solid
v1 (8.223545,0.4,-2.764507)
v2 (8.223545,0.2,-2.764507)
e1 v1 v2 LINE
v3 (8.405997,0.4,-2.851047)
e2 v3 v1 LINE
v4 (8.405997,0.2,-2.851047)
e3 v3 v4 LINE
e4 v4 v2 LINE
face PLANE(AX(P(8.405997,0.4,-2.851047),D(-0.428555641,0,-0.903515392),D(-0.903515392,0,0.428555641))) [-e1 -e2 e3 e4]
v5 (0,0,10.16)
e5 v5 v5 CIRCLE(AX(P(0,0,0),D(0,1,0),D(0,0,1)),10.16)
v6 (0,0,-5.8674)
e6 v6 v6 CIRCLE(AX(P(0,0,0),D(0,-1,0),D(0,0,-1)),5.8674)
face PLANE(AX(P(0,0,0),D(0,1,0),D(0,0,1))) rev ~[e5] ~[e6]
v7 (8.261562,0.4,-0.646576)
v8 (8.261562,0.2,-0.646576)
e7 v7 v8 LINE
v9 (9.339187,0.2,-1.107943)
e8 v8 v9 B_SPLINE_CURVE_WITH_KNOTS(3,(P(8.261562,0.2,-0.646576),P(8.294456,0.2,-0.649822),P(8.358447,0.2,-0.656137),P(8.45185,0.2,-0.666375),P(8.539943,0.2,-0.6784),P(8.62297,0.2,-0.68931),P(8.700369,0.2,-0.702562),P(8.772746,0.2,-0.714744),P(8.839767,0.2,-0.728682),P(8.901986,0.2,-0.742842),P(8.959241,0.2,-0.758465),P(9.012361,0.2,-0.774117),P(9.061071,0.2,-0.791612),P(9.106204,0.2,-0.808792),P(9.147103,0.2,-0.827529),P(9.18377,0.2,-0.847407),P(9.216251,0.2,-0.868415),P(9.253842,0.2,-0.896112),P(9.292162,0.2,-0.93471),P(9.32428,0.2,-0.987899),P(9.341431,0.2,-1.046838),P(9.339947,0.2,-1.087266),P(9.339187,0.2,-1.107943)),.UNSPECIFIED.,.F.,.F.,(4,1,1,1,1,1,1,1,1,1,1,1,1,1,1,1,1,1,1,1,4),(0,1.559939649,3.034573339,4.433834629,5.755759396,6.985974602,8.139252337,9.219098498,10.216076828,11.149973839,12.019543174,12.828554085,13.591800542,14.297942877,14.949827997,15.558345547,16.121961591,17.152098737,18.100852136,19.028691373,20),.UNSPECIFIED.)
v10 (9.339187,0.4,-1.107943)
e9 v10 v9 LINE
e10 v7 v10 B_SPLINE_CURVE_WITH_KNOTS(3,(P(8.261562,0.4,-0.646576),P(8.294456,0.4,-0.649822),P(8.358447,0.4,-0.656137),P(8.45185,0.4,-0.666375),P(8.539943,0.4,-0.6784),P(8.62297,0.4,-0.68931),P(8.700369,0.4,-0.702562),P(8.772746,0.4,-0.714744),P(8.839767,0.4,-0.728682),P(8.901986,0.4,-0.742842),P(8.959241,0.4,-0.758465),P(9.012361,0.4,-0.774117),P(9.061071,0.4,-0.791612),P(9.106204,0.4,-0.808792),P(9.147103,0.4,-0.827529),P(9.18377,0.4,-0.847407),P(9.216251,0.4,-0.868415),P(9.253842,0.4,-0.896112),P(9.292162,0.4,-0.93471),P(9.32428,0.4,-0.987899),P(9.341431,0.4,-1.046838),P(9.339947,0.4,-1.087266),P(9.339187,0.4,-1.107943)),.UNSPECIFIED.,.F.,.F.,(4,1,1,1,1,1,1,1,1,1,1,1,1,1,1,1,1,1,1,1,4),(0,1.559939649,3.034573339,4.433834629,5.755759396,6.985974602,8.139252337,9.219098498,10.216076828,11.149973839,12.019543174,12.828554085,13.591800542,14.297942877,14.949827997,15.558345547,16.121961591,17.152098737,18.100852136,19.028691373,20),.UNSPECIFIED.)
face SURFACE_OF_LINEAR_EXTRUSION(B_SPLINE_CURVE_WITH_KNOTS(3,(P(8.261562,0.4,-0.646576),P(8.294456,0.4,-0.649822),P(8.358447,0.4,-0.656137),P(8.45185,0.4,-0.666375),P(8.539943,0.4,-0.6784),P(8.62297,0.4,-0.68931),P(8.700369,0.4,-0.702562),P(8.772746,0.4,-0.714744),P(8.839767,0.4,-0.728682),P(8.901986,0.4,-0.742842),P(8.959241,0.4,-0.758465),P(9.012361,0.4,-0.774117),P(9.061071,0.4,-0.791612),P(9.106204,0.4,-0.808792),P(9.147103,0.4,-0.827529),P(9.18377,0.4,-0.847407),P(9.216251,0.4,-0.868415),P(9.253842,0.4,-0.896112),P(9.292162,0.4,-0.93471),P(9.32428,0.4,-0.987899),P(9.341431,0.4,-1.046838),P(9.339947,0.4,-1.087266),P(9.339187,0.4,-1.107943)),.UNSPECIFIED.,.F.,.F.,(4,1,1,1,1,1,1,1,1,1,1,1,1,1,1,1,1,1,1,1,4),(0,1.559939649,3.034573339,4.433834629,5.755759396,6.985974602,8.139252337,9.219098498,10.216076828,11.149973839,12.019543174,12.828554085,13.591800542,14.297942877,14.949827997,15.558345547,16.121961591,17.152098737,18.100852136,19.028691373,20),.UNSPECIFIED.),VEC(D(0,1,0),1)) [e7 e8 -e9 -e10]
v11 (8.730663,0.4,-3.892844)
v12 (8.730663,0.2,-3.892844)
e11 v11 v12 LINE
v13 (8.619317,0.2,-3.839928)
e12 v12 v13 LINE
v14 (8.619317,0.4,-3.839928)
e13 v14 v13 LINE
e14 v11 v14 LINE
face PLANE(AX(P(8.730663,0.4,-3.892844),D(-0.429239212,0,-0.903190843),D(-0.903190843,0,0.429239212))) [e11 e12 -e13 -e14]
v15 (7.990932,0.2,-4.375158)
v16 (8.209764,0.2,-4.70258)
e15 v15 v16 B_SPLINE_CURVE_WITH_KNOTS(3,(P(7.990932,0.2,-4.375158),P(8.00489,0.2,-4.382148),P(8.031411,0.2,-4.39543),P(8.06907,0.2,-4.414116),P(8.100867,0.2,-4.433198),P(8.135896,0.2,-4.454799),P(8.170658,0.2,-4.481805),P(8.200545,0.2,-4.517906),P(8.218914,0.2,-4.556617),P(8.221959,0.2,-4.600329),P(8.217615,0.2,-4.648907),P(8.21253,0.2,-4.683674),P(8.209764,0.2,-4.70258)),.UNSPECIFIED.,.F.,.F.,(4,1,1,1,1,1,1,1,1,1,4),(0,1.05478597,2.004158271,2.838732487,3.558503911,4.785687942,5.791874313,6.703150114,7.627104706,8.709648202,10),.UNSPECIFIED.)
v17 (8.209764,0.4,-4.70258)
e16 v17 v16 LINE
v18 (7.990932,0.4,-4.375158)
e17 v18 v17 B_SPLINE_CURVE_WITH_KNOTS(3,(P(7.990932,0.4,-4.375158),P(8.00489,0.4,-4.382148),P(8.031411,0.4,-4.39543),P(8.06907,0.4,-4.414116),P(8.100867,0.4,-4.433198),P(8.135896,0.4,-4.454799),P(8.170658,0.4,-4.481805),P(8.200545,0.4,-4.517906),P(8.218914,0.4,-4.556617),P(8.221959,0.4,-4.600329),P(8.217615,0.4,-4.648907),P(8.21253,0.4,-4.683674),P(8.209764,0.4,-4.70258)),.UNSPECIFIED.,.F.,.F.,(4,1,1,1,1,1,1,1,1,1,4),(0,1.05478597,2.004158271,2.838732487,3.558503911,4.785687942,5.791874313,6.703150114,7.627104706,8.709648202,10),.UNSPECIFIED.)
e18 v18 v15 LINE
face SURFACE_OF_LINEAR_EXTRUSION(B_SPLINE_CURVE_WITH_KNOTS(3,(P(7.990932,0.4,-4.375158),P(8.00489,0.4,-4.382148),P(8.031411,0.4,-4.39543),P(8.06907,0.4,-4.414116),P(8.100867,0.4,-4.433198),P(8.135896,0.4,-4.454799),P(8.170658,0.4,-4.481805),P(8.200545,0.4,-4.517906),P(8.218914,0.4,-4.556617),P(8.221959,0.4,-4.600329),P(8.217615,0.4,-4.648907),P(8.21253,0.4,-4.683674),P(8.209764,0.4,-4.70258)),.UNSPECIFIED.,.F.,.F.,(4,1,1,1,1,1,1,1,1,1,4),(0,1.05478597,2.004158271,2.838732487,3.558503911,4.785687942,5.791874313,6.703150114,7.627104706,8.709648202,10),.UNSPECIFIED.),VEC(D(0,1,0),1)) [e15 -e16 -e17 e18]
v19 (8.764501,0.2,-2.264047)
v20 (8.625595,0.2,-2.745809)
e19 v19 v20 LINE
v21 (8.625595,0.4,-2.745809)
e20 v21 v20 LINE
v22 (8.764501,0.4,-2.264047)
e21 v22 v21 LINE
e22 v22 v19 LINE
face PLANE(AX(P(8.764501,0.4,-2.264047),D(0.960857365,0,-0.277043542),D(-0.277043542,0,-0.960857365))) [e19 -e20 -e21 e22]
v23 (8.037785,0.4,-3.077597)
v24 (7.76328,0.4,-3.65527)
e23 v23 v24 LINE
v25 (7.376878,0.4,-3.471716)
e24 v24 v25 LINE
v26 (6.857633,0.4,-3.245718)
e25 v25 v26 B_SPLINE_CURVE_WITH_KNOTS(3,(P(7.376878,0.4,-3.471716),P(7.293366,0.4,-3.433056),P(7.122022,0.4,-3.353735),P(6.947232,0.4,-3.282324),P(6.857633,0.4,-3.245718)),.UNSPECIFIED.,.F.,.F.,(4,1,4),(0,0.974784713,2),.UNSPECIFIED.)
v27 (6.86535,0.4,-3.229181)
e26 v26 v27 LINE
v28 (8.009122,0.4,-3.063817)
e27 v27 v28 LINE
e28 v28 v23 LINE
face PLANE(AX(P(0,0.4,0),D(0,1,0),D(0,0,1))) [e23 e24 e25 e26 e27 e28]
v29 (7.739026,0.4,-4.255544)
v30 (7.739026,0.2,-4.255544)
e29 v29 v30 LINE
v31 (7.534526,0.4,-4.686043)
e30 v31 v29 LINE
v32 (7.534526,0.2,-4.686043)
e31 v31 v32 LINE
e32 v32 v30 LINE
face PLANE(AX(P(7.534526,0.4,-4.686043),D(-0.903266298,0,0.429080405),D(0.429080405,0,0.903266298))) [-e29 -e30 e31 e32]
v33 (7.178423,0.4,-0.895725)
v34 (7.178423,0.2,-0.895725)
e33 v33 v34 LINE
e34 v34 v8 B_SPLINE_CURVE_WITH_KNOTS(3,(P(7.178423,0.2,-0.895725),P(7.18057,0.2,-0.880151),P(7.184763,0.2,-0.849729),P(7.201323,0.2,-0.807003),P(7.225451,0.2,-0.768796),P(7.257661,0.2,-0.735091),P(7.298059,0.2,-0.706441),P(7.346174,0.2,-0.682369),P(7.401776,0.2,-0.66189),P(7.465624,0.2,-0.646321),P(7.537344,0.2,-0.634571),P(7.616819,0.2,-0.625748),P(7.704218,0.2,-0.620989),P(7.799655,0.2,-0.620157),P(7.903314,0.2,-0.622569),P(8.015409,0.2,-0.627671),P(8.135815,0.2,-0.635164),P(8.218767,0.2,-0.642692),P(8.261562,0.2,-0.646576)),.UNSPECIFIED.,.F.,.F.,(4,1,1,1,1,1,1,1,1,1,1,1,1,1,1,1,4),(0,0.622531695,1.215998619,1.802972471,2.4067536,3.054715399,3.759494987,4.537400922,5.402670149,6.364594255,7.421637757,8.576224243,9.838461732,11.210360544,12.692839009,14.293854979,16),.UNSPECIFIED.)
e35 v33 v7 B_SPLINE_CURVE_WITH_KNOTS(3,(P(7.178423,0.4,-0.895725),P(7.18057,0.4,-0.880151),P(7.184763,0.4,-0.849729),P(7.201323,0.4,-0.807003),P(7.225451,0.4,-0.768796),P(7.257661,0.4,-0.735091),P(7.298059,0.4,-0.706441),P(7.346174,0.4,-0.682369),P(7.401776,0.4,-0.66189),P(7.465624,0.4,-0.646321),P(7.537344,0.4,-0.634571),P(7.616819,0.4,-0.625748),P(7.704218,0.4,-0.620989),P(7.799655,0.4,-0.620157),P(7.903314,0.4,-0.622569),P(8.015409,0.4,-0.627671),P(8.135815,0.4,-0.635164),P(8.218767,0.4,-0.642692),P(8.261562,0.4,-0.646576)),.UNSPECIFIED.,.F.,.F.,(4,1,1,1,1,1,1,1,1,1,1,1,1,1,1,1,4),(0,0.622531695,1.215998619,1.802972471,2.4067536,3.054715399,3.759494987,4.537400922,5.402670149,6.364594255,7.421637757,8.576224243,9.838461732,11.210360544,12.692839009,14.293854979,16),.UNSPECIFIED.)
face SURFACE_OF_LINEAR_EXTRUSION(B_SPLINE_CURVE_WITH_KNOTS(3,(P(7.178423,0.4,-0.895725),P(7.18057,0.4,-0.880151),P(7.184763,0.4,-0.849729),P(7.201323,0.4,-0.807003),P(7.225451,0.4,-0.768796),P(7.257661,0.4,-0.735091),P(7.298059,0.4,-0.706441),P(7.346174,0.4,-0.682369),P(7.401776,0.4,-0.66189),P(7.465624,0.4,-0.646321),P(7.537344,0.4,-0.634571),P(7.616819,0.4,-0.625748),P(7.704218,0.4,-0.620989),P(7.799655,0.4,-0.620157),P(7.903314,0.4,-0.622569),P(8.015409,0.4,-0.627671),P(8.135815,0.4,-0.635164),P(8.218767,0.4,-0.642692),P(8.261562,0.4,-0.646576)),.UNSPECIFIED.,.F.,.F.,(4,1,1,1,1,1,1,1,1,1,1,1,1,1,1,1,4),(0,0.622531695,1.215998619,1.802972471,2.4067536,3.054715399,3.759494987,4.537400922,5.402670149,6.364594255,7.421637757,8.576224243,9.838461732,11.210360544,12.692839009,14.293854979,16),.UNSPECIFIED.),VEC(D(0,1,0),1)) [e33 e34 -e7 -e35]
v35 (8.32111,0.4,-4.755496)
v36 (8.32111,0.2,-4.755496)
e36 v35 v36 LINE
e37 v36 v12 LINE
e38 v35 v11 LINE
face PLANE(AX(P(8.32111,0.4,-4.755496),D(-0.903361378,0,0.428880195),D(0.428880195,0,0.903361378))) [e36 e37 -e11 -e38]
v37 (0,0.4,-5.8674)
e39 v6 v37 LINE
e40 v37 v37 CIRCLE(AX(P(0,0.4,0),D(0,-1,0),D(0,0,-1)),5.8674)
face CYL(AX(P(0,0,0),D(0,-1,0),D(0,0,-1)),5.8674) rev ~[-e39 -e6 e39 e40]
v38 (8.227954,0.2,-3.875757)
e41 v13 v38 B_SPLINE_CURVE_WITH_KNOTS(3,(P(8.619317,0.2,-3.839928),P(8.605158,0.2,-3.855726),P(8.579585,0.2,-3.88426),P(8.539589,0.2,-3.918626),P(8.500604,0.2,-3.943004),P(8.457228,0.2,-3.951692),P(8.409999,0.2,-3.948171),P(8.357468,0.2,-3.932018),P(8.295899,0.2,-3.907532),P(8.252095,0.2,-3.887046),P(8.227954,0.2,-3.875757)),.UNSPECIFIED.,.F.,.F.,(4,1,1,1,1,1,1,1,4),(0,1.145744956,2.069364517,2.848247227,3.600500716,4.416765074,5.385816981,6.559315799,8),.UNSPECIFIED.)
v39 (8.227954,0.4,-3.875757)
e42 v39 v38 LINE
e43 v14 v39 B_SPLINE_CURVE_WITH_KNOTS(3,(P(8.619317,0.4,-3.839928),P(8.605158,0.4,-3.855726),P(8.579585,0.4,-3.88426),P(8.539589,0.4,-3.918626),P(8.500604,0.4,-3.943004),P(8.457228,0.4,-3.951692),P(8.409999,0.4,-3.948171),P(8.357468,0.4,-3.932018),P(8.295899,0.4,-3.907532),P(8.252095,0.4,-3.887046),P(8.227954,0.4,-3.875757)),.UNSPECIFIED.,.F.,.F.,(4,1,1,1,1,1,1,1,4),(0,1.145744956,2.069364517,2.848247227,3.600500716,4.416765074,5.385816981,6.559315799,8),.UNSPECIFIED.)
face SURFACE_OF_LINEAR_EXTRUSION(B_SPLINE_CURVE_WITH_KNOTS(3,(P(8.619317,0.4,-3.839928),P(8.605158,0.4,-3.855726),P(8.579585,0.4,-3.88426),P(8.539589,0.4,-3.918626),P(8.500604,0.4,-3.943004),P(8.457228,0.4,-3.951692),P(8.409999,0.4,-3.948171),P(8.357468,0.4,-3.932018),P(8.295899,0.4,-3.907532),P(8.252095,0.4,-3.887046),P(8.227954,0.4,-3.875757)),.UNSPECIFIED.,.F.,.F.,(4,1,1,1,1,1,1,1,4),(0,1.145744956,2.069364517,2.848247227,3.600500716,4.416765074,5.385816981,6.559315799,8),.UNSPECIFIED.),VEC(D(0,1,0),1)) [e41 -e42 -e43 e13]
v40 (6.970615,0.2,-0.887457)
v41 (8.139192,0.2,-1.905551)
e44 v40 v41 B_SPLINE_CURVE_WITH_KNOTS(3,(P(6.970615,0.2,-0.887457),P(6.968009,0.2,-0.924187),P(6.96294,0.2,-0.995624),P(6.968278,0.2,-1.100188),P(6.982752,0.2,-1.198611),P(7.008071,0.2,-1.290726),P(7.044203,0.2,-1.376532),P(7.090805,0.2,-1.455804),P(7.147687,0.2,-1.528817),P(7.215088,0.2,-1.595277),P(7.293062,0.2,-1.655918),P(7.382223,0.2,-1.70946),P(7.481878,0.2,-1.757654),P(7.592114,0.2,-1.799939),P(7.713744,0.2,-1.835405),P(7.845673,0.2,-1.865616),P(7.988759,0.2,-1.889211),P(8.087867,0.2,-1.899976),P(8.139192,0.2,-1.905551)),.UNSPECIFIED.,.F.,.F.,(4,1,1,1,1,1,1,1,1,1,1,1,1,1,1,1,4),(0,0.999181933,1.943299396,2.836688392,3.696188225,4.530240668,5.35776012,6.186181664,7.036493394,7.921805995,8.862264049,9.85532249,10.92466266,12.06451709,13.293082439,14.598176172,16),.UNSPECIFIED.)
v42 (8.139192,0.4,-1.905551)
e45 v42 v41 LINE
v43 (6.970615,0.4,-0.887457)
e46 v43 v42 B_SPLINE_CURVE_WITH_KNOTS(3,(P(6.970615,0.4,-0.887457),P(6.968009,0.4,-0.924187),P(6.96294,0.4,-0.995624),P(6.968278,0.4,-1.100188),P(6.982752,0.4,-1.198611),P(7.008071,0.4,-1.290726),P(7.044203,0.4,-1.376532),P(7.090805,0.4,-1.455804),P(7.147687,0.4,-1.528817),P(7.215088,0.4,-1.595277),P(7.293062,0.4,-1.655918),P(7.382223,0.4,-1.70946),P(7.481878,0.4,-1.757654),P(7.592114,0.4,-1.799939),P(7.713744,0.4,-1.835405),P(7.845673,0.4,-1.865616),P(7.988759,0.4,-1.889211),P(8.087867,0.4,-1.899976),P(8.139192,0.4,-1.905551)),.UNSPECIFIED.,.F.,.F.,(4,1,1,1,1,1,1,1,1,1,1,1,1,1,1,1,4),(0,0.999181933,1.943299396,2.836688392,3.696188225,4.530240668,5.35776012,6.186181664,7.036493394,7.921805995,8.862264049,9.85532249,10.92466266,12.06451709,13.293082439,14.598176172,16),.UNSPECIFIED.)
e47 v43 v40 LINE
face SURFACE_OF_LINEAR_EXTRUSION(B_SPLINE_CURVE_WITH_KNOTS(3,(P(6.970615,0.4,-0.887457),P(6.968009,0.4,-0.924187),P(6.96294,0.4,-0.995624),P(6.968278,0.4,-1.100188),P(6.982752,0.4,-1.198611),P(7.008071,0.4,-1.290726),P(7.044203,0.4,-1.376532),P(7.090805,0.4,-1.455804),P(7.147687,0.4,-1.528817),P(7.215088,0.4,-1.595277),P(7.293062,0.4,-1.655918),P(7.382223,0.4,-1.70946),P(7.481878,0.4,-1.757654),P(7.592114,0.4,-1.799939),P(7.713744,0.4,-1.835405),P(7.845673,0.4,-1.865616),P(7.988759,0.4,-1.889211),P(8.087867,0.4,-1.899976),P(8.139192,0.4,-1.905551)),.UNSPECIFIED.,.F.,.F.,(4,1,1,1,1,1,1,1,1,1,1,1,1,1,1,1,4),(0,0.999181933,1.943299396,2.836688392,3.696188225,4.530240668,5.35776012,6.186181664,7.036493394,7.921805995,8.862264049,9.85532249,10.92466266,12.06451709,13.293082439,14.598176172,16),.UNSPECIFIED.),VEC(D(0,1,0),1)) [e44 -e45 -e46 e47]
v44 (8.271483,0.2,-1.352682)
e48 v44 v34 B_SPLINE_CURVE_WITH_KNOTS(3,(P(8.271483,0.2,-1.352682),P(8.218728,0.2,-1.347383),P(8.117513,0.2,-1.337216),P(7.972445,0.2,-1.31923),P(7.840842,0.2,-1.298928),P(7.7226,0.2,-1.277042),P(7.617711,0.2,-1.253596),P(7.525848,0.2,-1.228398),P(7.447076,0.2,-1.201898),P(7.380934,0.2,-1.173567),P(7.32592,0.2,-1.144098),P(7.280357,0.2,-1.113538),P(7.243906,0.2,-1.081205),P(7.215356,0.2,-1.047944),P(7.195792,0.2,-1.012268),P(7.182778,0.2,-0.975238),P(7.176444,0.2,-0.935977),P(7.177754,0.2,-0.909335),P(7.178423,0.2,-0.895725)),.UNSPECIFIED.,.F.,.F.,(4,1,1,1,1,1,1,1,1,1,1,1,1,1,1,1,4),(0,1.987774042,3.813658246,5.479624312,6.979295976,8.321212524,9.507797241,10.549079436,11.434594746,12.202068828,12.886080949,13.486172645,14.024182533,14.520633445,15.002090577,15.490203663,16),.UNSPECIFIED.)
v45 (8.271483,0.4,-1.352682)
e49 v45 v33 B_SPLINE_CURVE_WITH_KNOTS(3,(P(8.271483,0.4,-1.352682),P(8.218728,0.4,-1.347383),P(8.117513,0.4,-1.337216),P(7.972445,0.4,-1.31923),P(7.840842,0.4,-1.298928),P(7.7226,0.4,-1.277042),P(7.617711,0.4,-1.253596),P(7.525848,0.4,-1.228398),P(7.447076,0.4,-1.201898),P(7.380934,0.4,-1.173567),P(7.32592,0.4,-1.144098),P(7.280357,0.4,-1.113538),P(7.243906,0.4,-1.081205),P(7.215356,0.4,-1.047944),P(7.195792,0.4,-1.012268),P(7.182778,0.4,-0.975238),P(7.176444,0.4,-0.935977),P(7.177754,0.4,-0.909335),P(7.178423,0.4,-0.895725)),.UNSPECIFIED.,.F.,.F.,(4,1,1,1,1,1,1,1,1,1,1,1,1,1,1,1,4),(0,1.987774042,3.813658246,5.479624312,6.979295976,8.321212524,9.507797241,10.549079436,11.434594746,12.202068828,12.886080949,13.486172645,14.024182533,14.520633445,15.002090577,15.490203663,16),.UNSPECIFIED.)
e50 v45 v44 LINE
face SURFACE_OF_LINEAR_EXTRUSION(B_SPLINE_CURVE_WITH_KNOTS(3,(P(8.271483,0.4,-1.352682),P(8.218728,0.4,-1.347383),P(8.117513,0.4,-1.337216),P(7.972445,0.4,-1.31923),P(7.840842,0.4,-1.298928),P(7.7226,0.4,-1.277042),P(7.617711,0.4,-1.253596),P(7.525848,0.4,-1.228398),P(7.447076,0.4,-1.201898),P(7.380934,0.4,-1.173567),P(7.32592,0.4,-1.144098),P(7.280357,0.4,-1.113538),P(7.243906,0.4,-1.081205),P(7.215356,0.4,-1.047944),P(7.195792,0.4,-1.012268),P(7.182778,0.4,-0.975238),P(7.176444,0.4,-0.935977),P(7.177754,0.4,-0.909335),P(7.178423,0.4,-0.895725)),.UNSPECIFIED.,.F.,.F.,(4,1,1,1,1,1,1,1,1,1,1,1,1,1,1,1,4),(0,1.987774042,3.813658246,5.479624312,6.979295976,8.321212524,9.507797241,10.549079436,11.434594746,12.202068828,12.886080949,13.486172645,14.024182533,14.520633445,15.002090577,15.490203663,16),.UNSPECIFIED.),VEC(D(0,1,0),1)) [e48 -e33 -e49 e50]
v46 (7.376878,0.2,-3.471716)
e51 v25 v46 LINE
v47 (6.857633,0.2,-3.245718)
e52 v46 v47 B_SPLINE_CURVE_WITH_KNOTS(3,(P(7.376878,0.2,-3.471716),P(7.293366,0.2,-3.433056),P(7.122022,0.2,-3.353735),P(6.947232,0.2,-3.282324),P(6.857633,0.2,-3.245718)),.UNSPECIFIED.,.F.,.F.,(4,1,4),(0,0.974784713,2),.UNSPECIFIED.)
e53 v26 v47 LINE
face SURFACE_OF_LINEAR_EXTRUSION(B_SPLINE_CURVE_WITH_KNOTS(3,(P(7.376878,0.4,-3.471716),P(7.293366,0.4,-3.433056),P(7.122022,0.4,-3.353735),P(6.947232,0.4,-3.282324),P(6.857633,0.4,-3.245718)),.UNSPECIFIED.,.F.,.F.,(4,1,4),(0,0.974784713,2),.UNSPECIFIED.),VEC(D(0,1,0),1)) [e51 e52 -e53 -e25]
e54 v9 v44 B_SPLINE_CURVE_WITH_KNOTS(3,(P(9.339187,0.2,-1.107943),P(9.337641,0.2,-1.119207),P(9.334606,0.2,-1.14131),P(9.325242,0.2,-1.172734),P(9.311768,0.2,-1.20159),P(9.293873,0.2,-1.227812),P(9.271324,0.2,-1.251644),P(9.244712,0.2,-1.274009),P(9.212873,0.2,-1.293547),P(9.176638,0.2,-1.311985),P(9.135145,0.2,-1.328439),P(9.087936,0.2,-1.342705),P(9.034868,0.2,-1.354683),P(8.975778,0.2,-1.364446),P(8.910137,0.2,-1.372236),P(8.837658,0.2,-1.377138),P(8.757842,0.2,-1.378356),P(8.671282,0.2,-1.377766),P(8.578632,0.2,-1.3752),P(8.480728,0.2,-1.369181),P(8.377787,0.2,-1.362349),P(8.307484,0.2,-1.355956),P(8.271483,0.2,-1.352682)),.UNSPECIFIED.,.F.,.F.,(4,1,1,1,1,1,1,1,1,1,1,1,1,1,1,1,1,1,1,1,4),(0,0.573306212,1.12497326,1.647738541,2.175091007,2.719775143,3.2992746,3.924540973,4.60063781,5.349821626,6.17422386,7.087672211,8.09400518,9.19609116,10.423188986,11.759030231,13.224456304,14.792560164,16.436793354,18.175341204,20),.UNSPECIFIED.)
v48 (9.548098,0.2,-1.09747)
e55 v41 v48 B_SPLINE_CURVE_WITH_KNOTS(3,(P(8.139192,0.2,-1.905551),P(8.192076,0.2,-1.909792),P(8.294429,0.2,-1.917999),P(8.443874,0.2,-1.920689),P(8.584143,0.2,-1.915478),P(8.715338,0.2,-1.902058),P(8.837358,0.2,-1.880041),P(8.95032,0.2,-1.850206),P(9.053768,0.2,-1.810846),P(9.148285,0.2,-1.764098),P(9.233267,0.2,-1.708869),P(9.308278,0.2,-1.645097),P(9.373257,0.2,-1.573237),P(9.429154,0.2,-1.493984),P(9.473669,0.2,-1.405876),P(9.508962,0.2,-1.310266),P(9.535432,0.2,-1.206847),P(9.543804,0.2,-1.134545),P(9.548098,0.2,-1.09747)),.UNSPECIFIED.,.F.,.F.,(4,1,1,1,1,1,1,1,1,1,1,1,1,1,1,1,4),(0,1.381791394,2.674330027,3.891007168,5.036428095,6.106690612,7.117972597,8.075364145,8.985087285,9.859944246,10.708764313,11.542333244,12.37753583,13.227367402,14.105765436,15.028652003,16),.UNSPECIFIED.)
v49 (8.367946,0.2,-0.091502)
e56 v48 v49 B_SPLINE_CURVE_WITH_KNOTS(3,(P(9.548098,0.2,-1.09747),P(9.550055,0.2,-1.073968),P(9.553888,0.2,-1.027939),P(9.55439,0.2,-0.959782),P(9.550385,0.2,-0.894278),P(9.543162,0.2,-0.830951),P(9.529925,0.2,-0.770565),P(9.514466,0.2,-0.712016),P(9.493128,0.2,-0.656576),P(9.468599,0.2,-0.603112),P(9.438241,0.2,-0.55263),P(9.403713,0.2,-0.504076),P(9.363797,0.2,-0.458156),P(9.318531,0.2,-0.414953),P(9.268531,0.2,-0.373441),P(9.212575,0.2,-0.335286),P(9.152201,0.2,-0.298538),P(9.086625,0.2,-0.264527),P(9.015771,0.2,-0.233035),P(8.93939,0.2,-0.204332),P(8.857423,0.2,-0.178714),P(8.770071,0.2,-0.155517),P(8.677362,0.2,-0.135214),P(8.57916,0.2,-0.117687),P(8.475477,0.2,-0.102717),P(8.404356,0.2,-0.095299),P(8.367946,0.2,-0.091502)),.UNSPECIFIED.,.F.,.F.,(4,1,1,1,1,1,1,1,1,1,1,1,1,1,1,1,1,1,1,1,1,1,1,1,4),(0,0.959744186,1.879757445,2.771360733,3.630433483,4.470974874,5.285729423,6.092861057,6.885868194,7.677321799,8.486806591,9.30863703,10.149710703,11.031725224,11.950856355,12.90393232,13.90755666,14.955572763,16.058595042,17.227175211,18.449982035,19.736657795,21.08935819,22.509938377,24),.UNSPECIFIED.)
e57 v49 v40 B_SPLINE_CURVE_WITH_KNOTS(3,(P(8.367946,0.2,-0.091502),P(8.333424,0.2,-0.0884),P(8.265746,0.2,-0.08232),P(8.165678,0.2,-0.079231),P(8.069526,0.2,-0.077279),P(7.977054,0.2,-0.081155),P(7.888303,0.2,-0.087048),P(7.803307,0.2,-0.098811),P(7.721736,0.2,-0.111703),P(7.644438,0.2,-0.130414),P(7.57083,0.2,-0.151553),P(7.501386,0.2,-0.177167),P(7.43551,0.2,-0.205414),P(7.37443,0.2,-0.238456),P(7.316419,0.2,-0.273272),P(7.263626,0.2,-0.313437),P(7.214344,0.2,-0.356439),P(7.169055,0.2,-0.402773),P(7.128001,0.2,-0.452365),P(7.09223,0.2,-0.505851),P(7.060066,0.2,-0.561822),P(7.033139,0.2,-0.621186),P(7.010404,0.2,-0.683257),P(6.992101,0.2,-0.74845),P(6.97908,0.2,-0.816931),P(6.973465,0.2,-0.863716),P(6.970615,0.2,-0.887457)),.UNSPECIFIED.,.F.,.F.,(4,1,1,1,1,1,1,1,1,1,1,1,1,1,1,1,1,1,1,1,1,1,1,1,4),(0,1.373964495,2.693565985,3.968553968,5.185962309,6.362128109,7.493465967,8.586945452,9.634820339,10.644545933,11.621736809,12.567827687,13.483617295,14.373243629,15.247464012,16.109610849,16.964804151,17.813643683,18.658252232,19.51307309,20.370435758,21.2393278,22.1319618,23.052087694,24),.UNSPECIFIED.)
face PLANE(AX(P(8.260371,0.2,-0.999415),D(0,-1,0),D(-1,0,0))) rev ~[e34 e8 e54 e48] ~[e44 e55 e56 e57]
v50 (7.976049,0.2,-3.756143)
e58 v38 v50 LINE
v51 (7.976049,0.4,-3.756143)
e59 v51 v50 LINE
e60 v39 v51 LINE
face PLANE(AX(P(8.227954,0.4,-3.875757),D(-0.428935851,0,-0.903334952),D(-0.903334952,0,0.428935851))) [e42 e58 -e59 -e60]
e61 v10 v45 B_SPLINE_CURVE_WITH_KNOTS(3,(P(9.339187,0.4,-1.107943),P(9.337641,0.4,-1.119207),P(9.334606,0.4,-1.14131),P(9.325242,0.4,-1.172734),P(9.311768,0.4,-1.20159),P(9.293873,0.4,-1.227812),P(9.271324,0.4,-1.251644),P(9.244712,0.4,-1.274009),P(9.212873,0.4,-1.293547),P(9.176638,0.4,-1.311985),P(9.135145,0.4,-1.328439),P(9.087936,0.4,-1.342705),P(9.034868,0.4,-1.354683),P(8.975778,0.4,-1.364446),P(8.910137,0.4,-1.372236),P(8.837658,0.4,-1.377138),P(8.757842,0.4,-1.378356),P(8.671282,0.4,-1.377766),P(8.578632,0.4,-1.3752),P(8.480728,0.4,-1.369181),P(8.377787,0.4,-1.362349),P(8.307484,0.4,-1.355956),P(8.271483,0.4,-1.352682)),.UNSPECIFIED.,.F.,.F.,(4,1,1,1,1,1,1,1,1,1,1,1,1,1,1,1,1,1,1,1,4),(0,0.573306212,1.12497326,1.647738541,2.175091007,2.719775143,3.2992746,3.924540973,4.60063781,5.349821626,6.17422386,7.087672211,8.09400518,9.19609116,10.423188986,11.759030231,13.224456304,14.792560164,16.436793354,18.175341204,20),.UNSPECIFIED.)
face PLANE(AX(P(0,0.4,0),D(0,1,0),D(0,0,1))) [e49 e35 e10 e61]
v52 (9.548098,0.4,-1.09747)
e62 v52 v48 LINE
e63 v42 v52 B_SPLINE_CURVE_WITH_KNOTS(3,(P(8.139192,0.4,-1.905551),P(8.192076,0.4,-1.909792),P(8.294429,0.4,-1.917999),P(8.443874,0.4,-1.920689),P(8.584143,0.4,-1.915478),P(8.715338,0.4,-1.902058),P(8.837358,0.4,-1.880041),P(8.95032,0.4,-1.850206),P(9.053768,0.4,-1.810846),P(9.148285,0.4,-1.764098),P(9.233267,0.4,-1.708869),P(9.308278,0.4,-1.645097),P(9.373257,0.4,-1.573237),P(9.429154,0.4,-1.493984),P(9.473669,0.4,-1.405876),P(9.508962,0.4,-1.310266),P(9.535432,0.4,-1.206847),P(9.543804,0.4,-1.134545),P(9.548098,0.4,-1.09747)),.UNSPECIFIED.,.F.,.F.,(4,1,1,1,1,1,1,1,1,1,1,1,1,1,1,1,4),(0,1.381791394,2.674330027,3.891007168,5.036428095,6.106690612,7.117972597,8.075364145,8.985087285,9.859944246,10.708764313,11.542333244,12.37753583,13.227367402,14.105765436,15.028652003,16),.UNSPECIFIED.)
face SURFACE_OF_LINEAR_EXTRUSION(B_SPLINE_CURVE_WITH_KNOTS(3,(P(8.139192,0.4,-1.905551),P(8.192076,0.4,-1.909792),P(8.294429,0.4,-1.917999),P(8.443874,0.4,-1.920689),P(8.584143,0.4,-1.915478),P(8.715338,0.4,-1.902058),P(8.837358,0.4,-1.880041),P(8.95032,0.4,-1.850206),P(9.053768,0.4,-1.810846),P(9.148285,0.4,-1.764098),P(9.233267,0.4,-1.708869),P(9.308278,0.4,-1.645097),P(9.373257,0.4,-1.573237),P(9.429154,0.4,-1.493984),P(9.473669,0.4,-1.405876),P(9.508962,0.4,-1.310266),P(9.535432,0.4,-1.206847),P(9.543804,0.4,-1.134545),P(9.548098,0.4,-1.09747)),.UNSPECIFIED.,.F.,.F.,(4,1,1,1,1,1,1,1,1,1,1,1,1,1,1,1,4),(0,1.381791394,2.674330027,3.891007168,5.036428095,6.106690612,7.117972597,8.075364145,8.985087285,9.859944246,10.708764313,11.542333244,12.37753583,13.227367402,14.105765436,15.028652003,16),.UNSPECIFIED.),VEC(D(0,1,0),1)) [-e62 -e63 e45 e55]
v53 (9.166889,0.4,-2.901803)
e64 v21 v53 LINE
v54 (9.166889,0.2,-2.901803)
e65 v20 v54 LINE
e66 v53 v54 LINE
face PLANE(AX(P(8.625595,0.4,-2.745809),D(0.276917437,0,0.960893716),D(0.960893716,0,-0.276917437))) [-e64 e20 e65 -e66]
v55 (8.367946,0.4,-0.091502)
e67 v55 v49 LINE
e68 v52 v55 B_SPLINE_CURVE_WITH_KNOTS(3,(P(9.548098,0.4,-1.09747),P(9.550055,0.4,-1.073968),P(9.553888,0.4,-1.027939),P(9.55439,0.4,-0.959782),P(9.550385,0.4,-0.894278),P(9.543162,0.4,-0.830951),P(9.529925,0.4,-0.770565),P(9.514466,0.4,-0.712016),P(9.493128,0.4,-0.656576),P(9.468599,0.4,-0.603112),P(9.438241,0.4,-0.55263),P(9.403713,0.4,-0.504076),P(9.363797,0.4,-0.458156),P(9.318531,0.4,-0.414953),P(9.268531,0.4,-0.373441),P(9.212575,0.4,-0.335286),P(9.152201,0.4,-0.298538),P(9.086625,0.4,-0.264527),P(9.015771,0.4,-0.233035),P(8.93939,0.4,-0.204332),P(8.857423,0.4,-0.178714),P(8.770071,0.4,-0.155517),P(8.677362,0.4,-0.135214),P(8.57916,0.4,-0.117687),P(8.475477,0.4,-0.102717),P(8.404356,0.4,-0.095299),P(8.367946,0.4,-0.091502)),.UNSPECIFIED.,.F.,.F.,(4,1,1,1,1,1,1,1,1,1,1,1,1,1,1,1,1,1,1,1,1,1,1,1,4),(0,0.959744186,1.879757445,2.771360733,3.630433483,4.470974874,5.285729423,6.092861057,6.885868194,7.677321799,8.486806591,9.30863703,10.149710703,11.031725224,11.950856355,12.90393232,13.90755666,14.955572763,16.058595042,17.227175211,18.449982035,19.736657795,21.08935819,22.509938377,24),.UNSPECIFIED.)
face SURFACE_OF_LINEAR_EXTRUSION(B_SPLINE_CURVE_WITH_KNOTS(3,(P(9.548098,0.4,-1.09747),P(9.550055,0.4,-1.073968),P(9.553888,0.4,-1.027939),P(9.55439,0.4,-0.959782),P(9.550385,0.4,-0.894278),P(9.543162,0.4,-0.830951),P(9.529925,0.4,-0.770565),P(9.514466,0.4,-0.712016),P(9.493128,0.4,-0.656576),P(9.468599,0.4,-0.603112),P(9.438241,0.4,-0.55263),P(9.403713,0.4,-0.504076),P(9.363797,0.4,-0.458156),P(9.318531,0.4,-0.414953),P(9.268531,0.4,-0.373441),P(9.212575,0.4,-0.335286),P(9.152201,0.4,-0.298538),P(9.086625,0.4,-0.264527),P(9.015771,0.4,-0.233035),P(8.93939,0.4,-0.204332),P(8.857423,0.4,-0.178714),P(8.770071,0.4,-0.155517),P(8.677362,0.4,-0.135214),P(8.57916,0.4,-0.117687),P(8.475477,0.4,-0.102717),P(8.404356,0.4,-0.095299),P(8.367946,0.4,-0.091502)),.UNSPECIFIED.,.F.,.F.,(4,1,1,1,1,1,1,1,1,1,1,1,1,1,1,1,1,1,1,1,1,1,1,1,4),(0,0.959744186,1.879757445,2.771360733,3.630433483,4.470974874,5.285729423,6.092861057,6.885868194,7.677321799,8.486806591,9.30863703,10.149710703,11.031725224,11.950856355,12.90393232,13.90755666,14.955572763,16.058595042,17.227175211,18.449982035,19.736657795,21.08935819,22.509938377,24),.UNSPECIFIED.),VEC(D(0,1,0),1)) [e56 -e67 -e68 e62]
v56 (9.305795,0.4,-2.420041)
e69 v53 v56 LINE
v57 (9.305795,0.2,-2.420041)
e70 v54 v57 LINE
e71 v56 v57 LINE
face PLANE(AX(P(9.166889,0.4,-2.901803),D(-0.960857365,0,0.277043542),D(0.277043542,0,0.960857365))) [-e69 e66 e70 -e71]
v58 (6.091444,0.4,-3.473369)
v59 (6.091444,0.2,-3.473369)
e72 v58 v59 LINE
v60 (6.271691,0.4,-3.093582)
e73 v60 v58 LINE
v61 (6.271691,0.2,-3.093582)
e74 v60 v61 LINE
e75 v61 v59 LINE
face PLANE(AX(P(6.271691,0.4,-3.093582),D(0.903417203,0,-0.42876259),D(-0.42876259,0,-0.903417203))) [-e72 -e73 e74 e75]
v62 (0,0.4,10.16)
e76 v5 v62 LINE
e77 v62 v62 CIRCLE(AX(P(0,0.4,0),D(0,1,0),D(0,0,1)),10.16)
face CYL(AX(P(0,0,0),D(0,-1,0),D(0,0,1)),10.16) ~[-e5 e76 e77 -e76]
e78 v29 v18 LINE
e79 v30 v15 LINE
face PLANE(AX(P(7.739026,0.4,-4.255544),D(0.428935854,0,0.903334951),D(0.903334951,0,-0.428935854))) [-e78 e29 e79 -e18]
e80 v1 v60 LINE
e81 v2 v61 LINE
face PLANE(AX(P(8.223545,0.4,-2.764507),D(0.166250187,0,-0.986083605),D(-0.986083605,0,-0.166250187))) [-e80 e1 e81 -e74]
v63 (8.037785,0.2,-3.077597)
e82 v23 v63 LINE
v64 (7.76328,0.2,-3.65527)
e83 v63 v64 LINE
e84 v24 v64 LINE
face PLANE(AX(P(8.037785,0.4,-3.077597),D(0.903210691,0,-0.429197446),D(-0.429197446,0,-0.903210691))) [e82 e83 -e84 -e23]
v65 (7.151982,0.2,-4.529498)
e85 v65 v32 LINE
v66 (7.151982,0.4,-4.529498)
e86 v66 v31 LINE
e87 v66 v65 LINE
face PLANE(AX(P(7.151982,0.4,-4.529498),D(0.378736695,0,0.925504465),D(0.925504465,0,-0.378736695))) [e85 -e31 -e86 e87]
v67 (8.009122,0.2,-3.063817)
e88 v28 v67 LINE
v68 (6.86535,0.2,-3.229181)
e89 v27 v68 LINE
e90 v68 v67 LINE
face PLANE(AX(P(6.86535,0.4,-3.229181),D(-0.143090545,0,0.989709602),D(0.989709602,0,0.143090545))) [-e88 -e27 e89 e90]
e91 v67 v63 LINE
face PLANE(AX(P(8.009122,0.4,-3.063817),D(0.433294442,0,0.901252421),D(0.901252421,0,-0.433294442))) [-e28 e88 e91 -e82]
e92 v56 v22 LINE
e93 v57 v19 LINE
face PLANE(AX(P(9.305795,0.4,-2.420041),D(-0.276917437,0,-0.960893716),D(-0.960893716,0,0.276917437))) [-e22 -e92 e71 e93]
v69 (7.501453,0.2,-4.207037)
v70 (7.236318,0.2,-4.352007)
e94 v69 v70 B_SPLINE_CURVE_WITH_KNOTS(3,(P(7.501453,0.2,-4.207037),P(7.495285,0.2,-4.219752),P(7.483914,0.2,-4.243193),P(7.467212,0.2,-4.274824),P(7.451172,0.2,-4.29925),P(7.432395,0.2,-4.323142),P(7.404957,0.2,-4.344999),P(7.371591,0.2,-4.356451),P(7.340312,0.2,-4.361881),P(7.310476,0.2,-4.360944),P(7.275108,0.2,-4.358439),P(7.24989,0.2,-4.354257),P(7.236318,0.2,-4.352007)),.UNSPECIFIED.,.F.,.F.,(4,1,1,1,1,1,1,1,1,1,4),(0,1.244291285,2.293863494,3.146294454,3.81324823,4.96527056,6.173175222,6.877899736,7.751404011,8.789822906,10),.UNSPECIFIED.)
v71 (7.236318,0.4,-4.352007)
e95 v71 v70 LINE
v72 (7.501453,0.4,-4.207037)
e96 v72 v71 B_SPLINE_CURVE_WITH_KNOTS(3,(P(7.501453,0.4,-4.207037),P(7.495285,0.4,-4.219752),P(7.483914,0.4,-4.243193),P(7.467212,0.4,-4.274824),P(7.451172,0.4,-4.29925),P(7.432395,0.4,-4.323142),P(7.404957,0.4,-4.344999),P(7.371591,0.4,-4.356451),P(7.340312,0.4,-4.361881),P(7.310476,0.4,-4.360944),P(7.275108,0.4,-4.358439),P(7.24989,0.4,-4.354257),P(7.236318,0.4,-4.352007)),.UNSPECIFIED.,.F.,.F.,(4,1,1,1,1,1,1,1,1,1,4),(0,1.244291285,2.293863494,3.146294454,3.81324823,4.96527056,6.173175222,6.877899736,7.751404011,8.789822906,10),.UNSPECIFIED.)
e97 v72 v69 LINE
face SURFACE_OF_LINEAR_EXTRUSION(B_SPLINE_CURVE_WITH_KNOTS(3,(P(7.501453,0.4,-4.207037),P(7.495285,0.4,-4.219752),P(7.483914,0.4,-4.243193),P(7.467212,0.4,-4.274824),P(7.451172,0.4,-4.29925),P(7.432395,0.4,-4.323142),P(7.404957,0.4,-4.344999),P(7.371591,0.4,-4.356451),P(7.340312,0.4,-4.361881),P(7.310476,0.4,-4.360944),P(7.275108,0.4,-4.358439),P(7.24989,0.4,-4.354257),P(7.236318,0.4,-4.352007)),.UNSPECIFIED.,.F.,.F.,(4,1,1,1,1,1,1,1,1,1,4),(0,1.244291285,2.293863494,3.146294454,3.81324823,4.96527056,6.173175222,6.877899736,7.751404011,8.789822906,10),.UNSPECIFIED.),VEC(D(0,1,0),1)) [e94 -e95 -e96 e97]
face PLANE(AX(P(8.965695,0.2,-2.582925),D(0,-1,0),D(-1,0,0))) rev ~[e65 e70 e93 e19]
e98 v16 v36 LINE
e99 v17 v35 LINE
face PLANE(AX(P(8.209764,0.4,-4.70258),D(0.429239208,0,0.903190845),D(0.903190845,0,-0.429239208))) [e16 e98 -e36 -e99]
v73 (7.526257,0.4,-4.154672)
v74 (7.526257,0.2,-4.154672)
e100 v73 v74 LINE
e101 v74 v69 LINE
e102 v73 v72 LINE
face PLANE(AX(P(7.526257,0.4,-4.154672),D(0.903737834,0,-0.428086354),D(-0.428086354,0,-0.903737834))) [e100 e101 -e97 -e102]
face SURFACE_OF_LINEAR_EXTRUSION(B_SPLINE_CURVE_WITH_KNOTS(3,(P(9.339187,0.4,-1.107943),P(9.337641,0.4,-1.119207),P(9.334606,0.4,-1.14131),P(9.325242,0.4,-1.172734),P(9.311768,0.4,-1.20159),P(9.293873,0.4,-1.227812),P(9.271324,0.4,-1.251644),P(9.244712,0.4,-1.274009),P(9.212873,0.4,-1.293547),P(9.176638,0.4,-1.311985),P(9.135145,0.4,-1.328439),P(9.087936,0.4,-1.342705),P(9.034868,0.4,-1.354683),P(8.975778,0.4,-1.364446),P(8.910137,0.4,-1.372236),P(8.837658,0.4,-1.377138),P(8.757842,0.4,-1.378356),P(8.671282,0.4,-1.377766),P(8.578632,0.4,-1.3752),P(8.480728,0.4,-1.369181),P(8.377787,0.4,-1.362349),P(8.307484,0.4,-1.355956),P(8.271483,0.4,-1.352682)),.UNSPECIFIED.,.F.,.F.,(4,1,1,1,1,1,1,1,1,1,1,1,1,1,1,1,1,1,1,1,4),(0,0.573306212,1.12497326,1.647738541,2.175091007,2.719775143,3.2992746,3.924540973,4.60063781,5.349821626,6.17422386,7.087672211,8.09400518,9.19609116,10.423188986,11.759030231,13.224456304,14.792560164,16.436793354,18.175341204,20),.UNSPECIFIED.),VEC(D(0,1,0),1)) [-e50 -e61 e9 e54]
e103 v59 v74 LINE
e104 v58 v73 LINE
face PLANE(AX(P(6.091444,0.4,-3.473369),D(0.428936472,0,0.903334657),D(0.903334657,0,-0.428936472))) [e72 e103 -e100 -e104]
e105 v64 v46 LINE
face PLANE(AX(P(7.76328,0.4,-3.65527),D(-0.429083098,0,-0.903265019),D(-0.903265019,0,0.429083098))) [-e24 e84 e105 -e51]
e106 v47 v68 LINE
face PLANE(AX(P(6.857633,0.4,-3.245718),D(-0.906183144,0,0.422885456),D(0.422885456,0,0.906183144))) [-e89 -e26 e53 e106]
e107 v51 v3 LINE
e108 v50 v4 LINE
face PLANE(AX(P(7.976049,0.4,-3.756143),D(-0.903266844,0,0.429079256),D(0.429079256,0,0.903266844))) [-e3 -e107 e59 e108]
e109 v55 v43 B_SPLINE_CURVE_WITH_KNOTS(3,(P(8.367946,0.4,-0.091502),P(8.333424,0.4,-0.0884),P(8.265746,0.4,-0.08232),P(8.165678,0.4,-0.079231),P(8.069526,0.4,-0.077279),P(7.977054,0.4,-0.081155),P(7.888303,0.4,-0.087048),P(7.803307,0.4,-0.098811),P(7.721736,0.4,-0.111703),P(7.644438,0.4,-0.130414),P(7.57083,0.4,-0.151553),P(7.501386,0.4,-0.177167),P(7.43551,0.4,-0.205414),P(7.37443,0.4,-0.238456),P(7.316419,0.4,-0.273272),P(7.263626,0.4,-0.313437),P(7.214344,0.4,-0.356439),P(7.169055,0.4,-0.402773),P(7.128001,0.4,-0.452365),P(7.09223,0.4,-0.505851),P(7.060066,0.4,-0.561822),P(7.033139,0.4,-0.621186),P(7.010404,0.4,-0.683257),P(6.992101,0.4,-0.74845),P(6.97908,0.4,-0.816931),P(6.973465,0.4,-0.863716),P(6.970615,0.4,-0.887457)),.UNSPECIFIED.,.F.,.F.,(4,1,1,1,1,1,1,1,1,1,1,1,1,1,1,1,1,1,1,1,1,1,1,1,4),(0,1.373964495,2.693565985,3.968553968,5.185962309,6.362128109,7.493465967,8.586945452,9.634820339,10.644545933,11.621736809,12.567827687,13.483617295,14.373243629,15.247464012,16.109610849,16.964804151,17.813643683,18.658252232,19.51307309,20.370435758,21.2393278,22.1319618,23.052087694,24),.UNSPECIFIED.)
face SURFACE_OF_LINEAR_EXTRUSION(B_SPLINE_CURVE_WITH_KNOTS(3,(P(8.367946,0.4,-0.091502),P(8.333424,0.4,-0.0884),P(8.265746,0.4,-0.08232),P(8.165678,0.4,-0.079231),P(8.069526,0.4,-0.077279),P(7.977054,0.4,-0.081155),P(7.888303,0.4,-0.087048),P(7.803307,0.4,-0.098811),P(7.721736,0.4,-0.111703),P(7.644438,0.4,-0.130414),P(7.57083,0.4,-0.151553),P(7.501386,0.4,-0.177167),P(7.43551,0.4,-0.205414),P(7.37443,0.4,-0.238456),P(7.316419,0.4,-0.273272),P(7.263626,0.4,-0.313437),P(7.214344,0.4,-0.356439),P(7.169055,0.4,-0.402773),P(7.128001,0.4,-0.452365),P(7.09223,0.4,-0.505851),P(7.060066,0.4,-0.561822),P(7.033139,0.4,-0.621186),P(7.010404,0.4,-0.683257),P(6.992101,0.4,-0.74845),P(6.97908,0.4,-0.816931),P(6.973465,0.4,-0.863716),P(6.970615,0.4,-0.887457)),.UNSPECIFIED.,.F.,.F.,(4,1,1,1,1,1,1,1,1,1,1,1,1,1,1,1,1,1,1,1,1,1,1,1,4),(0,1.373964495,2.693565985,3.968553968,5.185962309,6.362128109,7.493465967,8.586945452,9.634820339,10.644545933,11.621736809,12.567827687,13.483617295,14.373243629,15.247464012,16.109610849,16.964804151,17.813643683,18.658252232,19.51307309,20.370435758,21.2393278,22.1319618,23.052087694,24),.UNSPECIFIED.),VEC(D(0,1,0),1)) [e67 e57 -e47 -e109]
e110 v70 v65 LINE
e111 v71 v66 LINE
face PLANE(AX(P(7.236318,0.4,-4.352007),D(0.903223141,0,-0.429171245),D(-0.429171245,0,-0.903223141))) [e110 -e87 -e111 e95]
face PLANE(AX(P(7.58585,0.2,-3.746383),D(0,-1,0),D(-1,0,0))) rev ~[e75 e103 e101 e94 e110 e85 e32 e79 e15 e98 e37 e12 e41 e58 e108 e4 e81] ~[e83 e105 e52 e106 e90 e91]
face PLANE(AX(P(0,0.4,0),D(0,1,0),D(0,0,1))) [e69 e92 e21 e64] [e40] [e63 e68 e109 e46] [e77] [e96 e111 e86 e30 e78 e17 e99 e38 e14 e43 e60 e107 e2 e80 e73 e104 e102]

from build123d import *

# Parameters (mm, degrees)
SKETCH1_R           = 10.16
BOSS_EXTRUDE1_DEPTH = 0.4
SKETCH2_R           = 5.8674
CUT_EXTRUDE1_DEPTH  = 15.373976485
CUT_EXTRUDE2_DEPTH  = 0.2


with BuildPart() as part:
    # Sketch1 → Boss-Extrude1 (new body)
    with BuildSketch(Plane(origin=(0, 0, 0), x_dir=(1, 0, 0), z_dir=(0, 1, 0))):
        with Locations(Location((0, 0, 0), (0, 0, 270))):
            Circle(SKETCH1_R)
    extrude(amount=BOSS_EXTRUDE1_DEPTH)

    # Sketch2 → Cut-Extrude1 (cut, through all)
    with BuildSketch(Plane(origin=(0, 0, 0), x_dir=(-1, 0, 0), z_dir=(0, -1, 0))):
        with Locations(Location((0, 0, 0), (0, 0, 90))):
            Circle(SKETCH2_R)
    extrude(amount=-CUT_EXTRUDE1_DEPTH, mode=Mode.SUBTRACT)

    # Sketch4 → Cut-Extrude2 (cut)
    # profile 1 of 3: a face of its own
    with BuildSketch(Plane(origin=(0, 0.4, 0), x_dir=(1, 0, 0), z_dir=(0, 1, 0))):
        with BuildLine():
            add(Edge.make_bspline(
                [(9.548097961, 1.097469618), (9.550055121, 1.073968459), (9.553888422, 1.027939027), (9.554390186, 0.959782463), (9.550385332, 0.894277853), (9.543161692, 0.830950704), (9.529924907, 0.770564877), (9.514466283, 0.712015933), (9.493128413, 0.656576452), (9.46859878, 0.603112304), (9.438240587, 0.552630443), (9.403712845, 0.504076224), (9.363797313, 0.45815636), (9.318530635, 0.414953146), (9.268531255, 0.373440711), (9.212574881, 0.33528609), (9.152201079, 0.298537745), (9.086625336, 0.264527216), (9.015771284, 0.233035098), (8.939390022, 0.204332005), (8.85742296, 0.178713648), (8.770070519, 0.155516755), (8.677361705, 0.135213545), (8.579160422, 0.117686573), (8.475476658, 0.102717037), (8.40435551, 0.095299195), (8.367946051, 0.091501736)],
                knots=[0, 0, 0, 0, 0.959744186, 1.879757445, 2.771360733, 3.630433483, 4.470974874, 5.285729423, 6.092861057, 6.885868194, 7.677321799, 8.486806591, 9.30863703, 10.149710703, 11.031725224, 11.950856355, 12.90393232, 13.90755666, 14.955572763, 16.058595042, 17.227175211, 18.449982035, 19.736657795, 21.08935819, 22.509938377, 24, 24, 24, 24], degree=3))
            add(Edge.make_bspline(
                [(8.367946051, 0.091501736), (8.333424141, 0.088400085), (8.265746233, 0.082319503), (8.165677998, 0.079231171), (8.06952646, 0.077278789), (7.977053794, 0.081155481), (7.88830334, 0.087048161), (7.803306671, 0.098811355), (7.721736112, 0.11170348), (7.644437516, 0.130414375), (7.570830347, 0.151553041), (7.501385565, 0.177166916), (7.435509874, 0.205414386), (7.374430468, 0.238456025), (7.316418733, 0.273272083), (7.263625883, 0.313436527), (7.214343769, 0.356439358), (7.169055169, 0.402772658), (7.128001276, 0.452365342), (7.092229736, 0.505851447), (7.060066365, 0.561822042), (7.033139082, 0.62118597), (7.010403647, 0.683257406), (6.992100676, 0.748449734), (6.979079533, 0.816930644), (6.973464566, 0.863715974), (6.970615322, 0.887456597)],
                knots=[0, 0, 0, 0, 1.373964495, 2.693565985, 3.968553968, 5.185962309, 6.362128109, 7.493465967, 8.586945452, 9.634820339, 10.644545933, 11.621736809, 12.567827687, 13.483617295, 14.373243629, 15.247464012, 16.109610849, 16.964804151, 17.813643683, 18.658252232, 19.51307309, 20.370435758, 21.2393278, 22.1319618, 23.052087694, 24, 24, 24, 24], degree=3))
            add(Edge.make_bspline(
                [(6.970615322, 0.887456597), (6.968008966, 0.924187003), (6.962939891, 0.995623618), (6.968278191, 1.100187869), (6.982752186, 1.198611099), (7.008071475, 1.290725833), (7.04420274, 1.376531671), (7.090804819, 1.455803983), (7.147686668, 1.528817336), (7.215087504, 1.595277348), (7.293061596, 1.655917856), (7.382222508, 1.709460065), (7.481878053, 1.757653835), (7.592113819, 1.79993908), (7.713743669, 1.835405319), (7.845672722, 1.865615588), (7.988759307, 1.889211353), (8.087867057, 1.899976367), (8.139191711, 1.905551215)],
                knots=[0, 0, 0, 0, 0.999181933, 1.943299396, 2.836688392, 3.696188225, 4.530240668, 5.35776012, 6.186181664, 7.036493394, 7.921805995, 8.862264049, 9.85532249, 10.92466266, 12.06451709, 13.293082439, 14.598176172, 16, 16, 16, 16], degree=3))
            add(Edge.make_bspline(
                [(8.139191711, 1.905551215), (8.192076162, 1.909791843), (8.294429148, 1.917999186), (8.443873987, 1.920688736), (8.584142548, 1.915477705), (8.715338175, 1.902057842), (8.837357513, 1.88004073), (8.950319838, 1.850206381), (9.053768445, 1.810845774), (9.148284982, 1.764097891), (9.233267264, 1.708869395), (9.308278218, 1.645097177), (9.373256878, 1.573236551), (9.429154226, 1.493984326), (9.473668524, 1.40587554), (9.508962331, 1.310266213), (9.535431633, 1.206847242), (9.543804449, 1.134545408), (9.548097961, 1.097469618)],
                knots=[0, 0, 0, 0, 1.381791394, 2.674330027, 3.891007168, 5.036428095, 6.106690612, 7.117972597, 8.075364145, 8.985087285, 9.859944246, 10.708764313, 11.542333244, 12.37753583, 13.227367402, 14.105765436, 15.028652003, 16, 16, 16, 16], degree=3))
        make_face()
        with BuildLine():
            add(Edge.make_bspline(
                [(8.261561502, 0.646575521), (8.294456414, 0.649821856), (8.358447364, 0.656137), (8.451849855, 0.666375212), (8.539943244, 0.678399643), (8.622970291, 0.689310262), (8.700369127, 0.702561563), (8.772745842, 0.714744092), (8.839767332, 0.728682456), (8.901986015, 0.742841894), (8.959241455, 0.758465051), (9.012361258, 0.774117371), (9.061070952, 0.791611955), (9.106204362, 0.808792317), (9.147102593, 0.82752915), (9.183769707, 0.847406728), (9.216251369, 0.868414663), (9.253841893, 0.896112176), (9.292161978, 0.93470985), (9.324279971, 0.987899004), (9.341430959, 1.046837895), (9.339946559, 1.087265986), (9.33918737, 1.107942708)],
                knots=[0, 0, 0, 0, 1.559939649, 3.034573339, 4.433834629, 5.755759396, 6.985974602, 8.139252337, 9.219098498, 10.216076828, 11.149973839, 12.019543174, 12.828554085, 13.591800542, 14.297942877, 14.949827997, 15.558345547, 16.121961591, 17.152098737, 18.100852136, 19.028691373, 20, 20, 20, 20], degree=3))
            add(Edge.make_bspline(
                [(9.33918737, 1.107942708), (9.337640701, 1.119206946), (9.334605741, 1.141310259), (9.325241811, 1.172734036), (9.31176771, 1.201590004), (9.293873227, 1.227812058), (9.271323703, 1.251644445), (9.244711652, 1.274008937), (9.212873286, 1.293547355), (9.176637524, 1.311985124), (9.135144771, 1.328439431), (9.087936038, 1.342704924), (9.03486756, 1.354683111), (8.975778101, 1.364445967), (8.910136784, 1.372235916), (8.83765802, 1.377138278), (8.757841853, 1.378355959), (8.671282468, 1.377765829), (8.578631856, 1.375199821), (8.480728235, 1.369181036), (8.377787239, 1.362348998), (8.307484328, 1.355956026), (8.271483377, 1.352682292)],
                knots=[0, 0, 0, 0, 0.573306212, 1.12497326, 1.647738541, 2.175091007, 2.719775143, 3.2992746, 3.924540973, 4.60063781, 5.349821626, 6.17422386, 7.087672211, 8.09400518, 9.19609116, 10.423188986, 11.759030231, 13.224456304, 14.792560164, 16.436793354, 18.175341204, 20, 20, 20, 20], degree=3))
            add(Edge.make_bspline(
                [(8.271483377, 1.352682292), (8.21872765, 1.347383023), (8.117512767, 1.337216074), (7.972444719, 1.319230054), (7.840842152, 1.298928139), (7.722599788, 1.277041996), (7.617710788, 1.253595709), (7.525847566, 1.228398034), (7.447076026, 1.201897522), (7.380933906, 1.17356744), (7.325919961, 1.144098193), (7.28035653, 1.113538037), (7.243905652, 1.081205208), (7.215355923, 1.047943532), (7.195791651, 1.012267519), (7.182777989, 0.975237705), (7.176443594, 0.935977323), (7.177754028, 0.909335291), (7.178423481, 0.895724826)],
                knots=[0, 0, 0, 0, 1.987774042, 3.813658246, 5.479624312, 6.979295976, 8.321212524, 9.507797241, 10.549079436, 11.434594746, 12.202068828, 12.886080949, 13.486172645, 14.024182533, 14.520633445, 15.002090577, 15.490203663, 16, 16, 16, 16], degree=3))
            add(Edge.make_bspline(
                [(7.178423481, 0.895724826), (7.18057015, 0.880150586), (7.184763265, 0.849729237), (7.201322999, 0.807002831), (7.225450517, 0.768795664), (7.257660898, 0.735091078), (7.298058684, 0.706441494), (7.346173767, 0.682368855), (7.401776004, 0.661890172), (7.465624388, 0.646320653), (7.537344011, 0.634570729), (7.61681871, 0.625748345), (7.704218452, 0.620988642), (7.799654696, 0.620157169), (7.90331396, 0.622569433), (8.015409368, 0.627671035), (8.13581459, 0.635163946), (8.218766894, 0.642691896), (8.261561502, 0.646575521)],
                knots=[0, 0, 0, 0, 0.622531695, 1.215998619, 1.802972471, 2.4067536, 3.054715399, 3.759494987, 4.537400922, 5.402670149, 6.364594255, 7.421637757, 8.576224243, 9.838461732, 11.210360544, 12.692839009, 14.293854979, 16, 16, 16, 16], degree=3))
        make_face(mode=Mode.SUBTRACT)
    # profile 2 of 3: a face of its own
    with BuildSketch(Plane(origin=(0, 0.4, 0), x_dir=(1, 0, 0), z_dir=(0, 1, 0))):
        Polygon((8.625595186, 2.745808752), (9.166888588, 2.901802676), (9.305794838, 2.420040523), (8.764501436, 2.264046599), align=None)
    # profile 3 of 3: a face of its own
    with BuildSketch(Plane(origin=(0, 0.4, 0), x_dir=(1, 0, 0), z_dir=(0, 1, 0))):
        with BuildLine():
            add(Edge.make_bspline(
                [(8.619317249, 3.839927612), (8.605158045, 3.855725986), (8.579584678, 3.884259905), (8.53958882, 3.918625978), (8.500604376, 3.943003738), (8.45722757, 3.951692461), (8.409998964, 3.948170804), (8.357468269, 3.932017987), (8.295899496, 3.907532011), (8.252095124, 3.887046328), (8.227954402, 3.875756605)],
                knots=[0, 0, 0, 0, 1.145744956, 2.069364517, 2.848247227, 3.600500716, 4.416765074, 5.385816981, 6.559315799, 8, 8, 8, 8], degree=3))
            Line((8.227954402, 3.875756605), (7.97604902, 3.75614289))
            Line((7.97604902, 3.75614289), (8.405996937, 2.851047404))
            Line((8.405996937, 2.851047404), (8.22354468, 2.764506605))
            Line((8.22354468, 2.764506605), (6.271691381, 3.093582126))
            Line((6.271691381, 3.093582126), (6.091443986, 3.473369452))
            Line((6.091443986, 3.473369452), (7.526257354, 4.154671536))
            Line((7.526257354, 4.154671536), (7.501452666, 4.207036987))
            add(Edge.make_bspline(
                [(7.501452666, 4.207036987), (7.495284595, 4.219752104), (7.483913694, 4.24319255), (7.467211949, 4.274824047), (7.45117189, 4.299250025), (7.432395351, 4.323142031), (7.404957274, 4.344998672), (7.371590737, 4.356451311), (7.340311976, 4.361880797), (7.310475748, 4.360944463), (7.275108034, 4.358439211), (7.249890175, 4.354257285), (7.236318118, 4.352006605)],
                knots=[0, 0, 0, 0, 1.244291285, 2.293863494, 3.146294454, 3.81324823, 4.96527056, 6.173175222, 6.877899736, 7.751404011, 8.789822906, 10, 10, 10, 10], degree=3))
            Line((7.236318118, 4.352006605), (7.15198218, 4.529497925))
            Line((7.15198218, 4.529497925), (7.534525583, 4.686043063))
            Line((7.534525583, 4.686043063), (7.739026451, 4.255543931))
            Line((7.739026451, 4.255543931), (7.990931833, 4.375157647))
            add(Edge.make_bspline(
                [(7.990931833, 4.375157647), (8.004889816, 4.382148034), (8.031410843, 4.395430199), (8.069069943, 4.414115601), (8.100867186, 4.433198132), (8.135895536, 4.454798796), (8.170657619, 4.48180517), (8.200545356, 4.517905625), (8.218913798, 4.556617267), (8.221958568, 4.600329456), (8.217615413, 4.648907387), (8.212529795, 4.683673908), (8.209764298, 4.702579522)],
                knots=[0, 0, 0, 0, 1.05478597, 2.004158271, 2.838732487, 3.558503911, 4.785687942, 5.791874313, 6.703150114, 7.627104706, 8.709648202, 10, 10, 10, 10], degree=3))
            Line((8.209764298, 4.702579522), (8.321109784, 4.755496188))
            Line((8.321109784, 4.755496188), (8.730662736, 3.892844279))
            Line((8.730662736, 3.892844279), (8.619317249, 3.839927612))
        make_face()
        with BuildLine():
            Line((8.037785131, 3.077596883), (7.763279923, 3.655270494))
            Line((7.763279923, 3.655270494), (7.376878013, 3.471715806))
            add(Edge.make_bspline(
                [(7.376878013, 3.471715806), (7.293366138, 3.433055727), (7.122021893, 3.353735487), (6.947231905, 3.282323746), (6.857633222, 3.245717543)],
                knots=[0, 0, 0, 0, 0.974784713, 2, 2, 2, 2], degree=3))
            Line((6.857633222, 3.245717543), (6.865350236, 3.229181084))
            Line((6.865350236, 3.229181084), (8.009121937, 3.063816501))
            Line((8.009121937, 3.063816501), (8.037785131, 3.077596883))
        make_face(mode=Mode.SUBTRACT)
    extrude(amount=-CUT_EXTRUDE2_DEPTH, mode=Mode.SUBTRACT)


solid = part.part
